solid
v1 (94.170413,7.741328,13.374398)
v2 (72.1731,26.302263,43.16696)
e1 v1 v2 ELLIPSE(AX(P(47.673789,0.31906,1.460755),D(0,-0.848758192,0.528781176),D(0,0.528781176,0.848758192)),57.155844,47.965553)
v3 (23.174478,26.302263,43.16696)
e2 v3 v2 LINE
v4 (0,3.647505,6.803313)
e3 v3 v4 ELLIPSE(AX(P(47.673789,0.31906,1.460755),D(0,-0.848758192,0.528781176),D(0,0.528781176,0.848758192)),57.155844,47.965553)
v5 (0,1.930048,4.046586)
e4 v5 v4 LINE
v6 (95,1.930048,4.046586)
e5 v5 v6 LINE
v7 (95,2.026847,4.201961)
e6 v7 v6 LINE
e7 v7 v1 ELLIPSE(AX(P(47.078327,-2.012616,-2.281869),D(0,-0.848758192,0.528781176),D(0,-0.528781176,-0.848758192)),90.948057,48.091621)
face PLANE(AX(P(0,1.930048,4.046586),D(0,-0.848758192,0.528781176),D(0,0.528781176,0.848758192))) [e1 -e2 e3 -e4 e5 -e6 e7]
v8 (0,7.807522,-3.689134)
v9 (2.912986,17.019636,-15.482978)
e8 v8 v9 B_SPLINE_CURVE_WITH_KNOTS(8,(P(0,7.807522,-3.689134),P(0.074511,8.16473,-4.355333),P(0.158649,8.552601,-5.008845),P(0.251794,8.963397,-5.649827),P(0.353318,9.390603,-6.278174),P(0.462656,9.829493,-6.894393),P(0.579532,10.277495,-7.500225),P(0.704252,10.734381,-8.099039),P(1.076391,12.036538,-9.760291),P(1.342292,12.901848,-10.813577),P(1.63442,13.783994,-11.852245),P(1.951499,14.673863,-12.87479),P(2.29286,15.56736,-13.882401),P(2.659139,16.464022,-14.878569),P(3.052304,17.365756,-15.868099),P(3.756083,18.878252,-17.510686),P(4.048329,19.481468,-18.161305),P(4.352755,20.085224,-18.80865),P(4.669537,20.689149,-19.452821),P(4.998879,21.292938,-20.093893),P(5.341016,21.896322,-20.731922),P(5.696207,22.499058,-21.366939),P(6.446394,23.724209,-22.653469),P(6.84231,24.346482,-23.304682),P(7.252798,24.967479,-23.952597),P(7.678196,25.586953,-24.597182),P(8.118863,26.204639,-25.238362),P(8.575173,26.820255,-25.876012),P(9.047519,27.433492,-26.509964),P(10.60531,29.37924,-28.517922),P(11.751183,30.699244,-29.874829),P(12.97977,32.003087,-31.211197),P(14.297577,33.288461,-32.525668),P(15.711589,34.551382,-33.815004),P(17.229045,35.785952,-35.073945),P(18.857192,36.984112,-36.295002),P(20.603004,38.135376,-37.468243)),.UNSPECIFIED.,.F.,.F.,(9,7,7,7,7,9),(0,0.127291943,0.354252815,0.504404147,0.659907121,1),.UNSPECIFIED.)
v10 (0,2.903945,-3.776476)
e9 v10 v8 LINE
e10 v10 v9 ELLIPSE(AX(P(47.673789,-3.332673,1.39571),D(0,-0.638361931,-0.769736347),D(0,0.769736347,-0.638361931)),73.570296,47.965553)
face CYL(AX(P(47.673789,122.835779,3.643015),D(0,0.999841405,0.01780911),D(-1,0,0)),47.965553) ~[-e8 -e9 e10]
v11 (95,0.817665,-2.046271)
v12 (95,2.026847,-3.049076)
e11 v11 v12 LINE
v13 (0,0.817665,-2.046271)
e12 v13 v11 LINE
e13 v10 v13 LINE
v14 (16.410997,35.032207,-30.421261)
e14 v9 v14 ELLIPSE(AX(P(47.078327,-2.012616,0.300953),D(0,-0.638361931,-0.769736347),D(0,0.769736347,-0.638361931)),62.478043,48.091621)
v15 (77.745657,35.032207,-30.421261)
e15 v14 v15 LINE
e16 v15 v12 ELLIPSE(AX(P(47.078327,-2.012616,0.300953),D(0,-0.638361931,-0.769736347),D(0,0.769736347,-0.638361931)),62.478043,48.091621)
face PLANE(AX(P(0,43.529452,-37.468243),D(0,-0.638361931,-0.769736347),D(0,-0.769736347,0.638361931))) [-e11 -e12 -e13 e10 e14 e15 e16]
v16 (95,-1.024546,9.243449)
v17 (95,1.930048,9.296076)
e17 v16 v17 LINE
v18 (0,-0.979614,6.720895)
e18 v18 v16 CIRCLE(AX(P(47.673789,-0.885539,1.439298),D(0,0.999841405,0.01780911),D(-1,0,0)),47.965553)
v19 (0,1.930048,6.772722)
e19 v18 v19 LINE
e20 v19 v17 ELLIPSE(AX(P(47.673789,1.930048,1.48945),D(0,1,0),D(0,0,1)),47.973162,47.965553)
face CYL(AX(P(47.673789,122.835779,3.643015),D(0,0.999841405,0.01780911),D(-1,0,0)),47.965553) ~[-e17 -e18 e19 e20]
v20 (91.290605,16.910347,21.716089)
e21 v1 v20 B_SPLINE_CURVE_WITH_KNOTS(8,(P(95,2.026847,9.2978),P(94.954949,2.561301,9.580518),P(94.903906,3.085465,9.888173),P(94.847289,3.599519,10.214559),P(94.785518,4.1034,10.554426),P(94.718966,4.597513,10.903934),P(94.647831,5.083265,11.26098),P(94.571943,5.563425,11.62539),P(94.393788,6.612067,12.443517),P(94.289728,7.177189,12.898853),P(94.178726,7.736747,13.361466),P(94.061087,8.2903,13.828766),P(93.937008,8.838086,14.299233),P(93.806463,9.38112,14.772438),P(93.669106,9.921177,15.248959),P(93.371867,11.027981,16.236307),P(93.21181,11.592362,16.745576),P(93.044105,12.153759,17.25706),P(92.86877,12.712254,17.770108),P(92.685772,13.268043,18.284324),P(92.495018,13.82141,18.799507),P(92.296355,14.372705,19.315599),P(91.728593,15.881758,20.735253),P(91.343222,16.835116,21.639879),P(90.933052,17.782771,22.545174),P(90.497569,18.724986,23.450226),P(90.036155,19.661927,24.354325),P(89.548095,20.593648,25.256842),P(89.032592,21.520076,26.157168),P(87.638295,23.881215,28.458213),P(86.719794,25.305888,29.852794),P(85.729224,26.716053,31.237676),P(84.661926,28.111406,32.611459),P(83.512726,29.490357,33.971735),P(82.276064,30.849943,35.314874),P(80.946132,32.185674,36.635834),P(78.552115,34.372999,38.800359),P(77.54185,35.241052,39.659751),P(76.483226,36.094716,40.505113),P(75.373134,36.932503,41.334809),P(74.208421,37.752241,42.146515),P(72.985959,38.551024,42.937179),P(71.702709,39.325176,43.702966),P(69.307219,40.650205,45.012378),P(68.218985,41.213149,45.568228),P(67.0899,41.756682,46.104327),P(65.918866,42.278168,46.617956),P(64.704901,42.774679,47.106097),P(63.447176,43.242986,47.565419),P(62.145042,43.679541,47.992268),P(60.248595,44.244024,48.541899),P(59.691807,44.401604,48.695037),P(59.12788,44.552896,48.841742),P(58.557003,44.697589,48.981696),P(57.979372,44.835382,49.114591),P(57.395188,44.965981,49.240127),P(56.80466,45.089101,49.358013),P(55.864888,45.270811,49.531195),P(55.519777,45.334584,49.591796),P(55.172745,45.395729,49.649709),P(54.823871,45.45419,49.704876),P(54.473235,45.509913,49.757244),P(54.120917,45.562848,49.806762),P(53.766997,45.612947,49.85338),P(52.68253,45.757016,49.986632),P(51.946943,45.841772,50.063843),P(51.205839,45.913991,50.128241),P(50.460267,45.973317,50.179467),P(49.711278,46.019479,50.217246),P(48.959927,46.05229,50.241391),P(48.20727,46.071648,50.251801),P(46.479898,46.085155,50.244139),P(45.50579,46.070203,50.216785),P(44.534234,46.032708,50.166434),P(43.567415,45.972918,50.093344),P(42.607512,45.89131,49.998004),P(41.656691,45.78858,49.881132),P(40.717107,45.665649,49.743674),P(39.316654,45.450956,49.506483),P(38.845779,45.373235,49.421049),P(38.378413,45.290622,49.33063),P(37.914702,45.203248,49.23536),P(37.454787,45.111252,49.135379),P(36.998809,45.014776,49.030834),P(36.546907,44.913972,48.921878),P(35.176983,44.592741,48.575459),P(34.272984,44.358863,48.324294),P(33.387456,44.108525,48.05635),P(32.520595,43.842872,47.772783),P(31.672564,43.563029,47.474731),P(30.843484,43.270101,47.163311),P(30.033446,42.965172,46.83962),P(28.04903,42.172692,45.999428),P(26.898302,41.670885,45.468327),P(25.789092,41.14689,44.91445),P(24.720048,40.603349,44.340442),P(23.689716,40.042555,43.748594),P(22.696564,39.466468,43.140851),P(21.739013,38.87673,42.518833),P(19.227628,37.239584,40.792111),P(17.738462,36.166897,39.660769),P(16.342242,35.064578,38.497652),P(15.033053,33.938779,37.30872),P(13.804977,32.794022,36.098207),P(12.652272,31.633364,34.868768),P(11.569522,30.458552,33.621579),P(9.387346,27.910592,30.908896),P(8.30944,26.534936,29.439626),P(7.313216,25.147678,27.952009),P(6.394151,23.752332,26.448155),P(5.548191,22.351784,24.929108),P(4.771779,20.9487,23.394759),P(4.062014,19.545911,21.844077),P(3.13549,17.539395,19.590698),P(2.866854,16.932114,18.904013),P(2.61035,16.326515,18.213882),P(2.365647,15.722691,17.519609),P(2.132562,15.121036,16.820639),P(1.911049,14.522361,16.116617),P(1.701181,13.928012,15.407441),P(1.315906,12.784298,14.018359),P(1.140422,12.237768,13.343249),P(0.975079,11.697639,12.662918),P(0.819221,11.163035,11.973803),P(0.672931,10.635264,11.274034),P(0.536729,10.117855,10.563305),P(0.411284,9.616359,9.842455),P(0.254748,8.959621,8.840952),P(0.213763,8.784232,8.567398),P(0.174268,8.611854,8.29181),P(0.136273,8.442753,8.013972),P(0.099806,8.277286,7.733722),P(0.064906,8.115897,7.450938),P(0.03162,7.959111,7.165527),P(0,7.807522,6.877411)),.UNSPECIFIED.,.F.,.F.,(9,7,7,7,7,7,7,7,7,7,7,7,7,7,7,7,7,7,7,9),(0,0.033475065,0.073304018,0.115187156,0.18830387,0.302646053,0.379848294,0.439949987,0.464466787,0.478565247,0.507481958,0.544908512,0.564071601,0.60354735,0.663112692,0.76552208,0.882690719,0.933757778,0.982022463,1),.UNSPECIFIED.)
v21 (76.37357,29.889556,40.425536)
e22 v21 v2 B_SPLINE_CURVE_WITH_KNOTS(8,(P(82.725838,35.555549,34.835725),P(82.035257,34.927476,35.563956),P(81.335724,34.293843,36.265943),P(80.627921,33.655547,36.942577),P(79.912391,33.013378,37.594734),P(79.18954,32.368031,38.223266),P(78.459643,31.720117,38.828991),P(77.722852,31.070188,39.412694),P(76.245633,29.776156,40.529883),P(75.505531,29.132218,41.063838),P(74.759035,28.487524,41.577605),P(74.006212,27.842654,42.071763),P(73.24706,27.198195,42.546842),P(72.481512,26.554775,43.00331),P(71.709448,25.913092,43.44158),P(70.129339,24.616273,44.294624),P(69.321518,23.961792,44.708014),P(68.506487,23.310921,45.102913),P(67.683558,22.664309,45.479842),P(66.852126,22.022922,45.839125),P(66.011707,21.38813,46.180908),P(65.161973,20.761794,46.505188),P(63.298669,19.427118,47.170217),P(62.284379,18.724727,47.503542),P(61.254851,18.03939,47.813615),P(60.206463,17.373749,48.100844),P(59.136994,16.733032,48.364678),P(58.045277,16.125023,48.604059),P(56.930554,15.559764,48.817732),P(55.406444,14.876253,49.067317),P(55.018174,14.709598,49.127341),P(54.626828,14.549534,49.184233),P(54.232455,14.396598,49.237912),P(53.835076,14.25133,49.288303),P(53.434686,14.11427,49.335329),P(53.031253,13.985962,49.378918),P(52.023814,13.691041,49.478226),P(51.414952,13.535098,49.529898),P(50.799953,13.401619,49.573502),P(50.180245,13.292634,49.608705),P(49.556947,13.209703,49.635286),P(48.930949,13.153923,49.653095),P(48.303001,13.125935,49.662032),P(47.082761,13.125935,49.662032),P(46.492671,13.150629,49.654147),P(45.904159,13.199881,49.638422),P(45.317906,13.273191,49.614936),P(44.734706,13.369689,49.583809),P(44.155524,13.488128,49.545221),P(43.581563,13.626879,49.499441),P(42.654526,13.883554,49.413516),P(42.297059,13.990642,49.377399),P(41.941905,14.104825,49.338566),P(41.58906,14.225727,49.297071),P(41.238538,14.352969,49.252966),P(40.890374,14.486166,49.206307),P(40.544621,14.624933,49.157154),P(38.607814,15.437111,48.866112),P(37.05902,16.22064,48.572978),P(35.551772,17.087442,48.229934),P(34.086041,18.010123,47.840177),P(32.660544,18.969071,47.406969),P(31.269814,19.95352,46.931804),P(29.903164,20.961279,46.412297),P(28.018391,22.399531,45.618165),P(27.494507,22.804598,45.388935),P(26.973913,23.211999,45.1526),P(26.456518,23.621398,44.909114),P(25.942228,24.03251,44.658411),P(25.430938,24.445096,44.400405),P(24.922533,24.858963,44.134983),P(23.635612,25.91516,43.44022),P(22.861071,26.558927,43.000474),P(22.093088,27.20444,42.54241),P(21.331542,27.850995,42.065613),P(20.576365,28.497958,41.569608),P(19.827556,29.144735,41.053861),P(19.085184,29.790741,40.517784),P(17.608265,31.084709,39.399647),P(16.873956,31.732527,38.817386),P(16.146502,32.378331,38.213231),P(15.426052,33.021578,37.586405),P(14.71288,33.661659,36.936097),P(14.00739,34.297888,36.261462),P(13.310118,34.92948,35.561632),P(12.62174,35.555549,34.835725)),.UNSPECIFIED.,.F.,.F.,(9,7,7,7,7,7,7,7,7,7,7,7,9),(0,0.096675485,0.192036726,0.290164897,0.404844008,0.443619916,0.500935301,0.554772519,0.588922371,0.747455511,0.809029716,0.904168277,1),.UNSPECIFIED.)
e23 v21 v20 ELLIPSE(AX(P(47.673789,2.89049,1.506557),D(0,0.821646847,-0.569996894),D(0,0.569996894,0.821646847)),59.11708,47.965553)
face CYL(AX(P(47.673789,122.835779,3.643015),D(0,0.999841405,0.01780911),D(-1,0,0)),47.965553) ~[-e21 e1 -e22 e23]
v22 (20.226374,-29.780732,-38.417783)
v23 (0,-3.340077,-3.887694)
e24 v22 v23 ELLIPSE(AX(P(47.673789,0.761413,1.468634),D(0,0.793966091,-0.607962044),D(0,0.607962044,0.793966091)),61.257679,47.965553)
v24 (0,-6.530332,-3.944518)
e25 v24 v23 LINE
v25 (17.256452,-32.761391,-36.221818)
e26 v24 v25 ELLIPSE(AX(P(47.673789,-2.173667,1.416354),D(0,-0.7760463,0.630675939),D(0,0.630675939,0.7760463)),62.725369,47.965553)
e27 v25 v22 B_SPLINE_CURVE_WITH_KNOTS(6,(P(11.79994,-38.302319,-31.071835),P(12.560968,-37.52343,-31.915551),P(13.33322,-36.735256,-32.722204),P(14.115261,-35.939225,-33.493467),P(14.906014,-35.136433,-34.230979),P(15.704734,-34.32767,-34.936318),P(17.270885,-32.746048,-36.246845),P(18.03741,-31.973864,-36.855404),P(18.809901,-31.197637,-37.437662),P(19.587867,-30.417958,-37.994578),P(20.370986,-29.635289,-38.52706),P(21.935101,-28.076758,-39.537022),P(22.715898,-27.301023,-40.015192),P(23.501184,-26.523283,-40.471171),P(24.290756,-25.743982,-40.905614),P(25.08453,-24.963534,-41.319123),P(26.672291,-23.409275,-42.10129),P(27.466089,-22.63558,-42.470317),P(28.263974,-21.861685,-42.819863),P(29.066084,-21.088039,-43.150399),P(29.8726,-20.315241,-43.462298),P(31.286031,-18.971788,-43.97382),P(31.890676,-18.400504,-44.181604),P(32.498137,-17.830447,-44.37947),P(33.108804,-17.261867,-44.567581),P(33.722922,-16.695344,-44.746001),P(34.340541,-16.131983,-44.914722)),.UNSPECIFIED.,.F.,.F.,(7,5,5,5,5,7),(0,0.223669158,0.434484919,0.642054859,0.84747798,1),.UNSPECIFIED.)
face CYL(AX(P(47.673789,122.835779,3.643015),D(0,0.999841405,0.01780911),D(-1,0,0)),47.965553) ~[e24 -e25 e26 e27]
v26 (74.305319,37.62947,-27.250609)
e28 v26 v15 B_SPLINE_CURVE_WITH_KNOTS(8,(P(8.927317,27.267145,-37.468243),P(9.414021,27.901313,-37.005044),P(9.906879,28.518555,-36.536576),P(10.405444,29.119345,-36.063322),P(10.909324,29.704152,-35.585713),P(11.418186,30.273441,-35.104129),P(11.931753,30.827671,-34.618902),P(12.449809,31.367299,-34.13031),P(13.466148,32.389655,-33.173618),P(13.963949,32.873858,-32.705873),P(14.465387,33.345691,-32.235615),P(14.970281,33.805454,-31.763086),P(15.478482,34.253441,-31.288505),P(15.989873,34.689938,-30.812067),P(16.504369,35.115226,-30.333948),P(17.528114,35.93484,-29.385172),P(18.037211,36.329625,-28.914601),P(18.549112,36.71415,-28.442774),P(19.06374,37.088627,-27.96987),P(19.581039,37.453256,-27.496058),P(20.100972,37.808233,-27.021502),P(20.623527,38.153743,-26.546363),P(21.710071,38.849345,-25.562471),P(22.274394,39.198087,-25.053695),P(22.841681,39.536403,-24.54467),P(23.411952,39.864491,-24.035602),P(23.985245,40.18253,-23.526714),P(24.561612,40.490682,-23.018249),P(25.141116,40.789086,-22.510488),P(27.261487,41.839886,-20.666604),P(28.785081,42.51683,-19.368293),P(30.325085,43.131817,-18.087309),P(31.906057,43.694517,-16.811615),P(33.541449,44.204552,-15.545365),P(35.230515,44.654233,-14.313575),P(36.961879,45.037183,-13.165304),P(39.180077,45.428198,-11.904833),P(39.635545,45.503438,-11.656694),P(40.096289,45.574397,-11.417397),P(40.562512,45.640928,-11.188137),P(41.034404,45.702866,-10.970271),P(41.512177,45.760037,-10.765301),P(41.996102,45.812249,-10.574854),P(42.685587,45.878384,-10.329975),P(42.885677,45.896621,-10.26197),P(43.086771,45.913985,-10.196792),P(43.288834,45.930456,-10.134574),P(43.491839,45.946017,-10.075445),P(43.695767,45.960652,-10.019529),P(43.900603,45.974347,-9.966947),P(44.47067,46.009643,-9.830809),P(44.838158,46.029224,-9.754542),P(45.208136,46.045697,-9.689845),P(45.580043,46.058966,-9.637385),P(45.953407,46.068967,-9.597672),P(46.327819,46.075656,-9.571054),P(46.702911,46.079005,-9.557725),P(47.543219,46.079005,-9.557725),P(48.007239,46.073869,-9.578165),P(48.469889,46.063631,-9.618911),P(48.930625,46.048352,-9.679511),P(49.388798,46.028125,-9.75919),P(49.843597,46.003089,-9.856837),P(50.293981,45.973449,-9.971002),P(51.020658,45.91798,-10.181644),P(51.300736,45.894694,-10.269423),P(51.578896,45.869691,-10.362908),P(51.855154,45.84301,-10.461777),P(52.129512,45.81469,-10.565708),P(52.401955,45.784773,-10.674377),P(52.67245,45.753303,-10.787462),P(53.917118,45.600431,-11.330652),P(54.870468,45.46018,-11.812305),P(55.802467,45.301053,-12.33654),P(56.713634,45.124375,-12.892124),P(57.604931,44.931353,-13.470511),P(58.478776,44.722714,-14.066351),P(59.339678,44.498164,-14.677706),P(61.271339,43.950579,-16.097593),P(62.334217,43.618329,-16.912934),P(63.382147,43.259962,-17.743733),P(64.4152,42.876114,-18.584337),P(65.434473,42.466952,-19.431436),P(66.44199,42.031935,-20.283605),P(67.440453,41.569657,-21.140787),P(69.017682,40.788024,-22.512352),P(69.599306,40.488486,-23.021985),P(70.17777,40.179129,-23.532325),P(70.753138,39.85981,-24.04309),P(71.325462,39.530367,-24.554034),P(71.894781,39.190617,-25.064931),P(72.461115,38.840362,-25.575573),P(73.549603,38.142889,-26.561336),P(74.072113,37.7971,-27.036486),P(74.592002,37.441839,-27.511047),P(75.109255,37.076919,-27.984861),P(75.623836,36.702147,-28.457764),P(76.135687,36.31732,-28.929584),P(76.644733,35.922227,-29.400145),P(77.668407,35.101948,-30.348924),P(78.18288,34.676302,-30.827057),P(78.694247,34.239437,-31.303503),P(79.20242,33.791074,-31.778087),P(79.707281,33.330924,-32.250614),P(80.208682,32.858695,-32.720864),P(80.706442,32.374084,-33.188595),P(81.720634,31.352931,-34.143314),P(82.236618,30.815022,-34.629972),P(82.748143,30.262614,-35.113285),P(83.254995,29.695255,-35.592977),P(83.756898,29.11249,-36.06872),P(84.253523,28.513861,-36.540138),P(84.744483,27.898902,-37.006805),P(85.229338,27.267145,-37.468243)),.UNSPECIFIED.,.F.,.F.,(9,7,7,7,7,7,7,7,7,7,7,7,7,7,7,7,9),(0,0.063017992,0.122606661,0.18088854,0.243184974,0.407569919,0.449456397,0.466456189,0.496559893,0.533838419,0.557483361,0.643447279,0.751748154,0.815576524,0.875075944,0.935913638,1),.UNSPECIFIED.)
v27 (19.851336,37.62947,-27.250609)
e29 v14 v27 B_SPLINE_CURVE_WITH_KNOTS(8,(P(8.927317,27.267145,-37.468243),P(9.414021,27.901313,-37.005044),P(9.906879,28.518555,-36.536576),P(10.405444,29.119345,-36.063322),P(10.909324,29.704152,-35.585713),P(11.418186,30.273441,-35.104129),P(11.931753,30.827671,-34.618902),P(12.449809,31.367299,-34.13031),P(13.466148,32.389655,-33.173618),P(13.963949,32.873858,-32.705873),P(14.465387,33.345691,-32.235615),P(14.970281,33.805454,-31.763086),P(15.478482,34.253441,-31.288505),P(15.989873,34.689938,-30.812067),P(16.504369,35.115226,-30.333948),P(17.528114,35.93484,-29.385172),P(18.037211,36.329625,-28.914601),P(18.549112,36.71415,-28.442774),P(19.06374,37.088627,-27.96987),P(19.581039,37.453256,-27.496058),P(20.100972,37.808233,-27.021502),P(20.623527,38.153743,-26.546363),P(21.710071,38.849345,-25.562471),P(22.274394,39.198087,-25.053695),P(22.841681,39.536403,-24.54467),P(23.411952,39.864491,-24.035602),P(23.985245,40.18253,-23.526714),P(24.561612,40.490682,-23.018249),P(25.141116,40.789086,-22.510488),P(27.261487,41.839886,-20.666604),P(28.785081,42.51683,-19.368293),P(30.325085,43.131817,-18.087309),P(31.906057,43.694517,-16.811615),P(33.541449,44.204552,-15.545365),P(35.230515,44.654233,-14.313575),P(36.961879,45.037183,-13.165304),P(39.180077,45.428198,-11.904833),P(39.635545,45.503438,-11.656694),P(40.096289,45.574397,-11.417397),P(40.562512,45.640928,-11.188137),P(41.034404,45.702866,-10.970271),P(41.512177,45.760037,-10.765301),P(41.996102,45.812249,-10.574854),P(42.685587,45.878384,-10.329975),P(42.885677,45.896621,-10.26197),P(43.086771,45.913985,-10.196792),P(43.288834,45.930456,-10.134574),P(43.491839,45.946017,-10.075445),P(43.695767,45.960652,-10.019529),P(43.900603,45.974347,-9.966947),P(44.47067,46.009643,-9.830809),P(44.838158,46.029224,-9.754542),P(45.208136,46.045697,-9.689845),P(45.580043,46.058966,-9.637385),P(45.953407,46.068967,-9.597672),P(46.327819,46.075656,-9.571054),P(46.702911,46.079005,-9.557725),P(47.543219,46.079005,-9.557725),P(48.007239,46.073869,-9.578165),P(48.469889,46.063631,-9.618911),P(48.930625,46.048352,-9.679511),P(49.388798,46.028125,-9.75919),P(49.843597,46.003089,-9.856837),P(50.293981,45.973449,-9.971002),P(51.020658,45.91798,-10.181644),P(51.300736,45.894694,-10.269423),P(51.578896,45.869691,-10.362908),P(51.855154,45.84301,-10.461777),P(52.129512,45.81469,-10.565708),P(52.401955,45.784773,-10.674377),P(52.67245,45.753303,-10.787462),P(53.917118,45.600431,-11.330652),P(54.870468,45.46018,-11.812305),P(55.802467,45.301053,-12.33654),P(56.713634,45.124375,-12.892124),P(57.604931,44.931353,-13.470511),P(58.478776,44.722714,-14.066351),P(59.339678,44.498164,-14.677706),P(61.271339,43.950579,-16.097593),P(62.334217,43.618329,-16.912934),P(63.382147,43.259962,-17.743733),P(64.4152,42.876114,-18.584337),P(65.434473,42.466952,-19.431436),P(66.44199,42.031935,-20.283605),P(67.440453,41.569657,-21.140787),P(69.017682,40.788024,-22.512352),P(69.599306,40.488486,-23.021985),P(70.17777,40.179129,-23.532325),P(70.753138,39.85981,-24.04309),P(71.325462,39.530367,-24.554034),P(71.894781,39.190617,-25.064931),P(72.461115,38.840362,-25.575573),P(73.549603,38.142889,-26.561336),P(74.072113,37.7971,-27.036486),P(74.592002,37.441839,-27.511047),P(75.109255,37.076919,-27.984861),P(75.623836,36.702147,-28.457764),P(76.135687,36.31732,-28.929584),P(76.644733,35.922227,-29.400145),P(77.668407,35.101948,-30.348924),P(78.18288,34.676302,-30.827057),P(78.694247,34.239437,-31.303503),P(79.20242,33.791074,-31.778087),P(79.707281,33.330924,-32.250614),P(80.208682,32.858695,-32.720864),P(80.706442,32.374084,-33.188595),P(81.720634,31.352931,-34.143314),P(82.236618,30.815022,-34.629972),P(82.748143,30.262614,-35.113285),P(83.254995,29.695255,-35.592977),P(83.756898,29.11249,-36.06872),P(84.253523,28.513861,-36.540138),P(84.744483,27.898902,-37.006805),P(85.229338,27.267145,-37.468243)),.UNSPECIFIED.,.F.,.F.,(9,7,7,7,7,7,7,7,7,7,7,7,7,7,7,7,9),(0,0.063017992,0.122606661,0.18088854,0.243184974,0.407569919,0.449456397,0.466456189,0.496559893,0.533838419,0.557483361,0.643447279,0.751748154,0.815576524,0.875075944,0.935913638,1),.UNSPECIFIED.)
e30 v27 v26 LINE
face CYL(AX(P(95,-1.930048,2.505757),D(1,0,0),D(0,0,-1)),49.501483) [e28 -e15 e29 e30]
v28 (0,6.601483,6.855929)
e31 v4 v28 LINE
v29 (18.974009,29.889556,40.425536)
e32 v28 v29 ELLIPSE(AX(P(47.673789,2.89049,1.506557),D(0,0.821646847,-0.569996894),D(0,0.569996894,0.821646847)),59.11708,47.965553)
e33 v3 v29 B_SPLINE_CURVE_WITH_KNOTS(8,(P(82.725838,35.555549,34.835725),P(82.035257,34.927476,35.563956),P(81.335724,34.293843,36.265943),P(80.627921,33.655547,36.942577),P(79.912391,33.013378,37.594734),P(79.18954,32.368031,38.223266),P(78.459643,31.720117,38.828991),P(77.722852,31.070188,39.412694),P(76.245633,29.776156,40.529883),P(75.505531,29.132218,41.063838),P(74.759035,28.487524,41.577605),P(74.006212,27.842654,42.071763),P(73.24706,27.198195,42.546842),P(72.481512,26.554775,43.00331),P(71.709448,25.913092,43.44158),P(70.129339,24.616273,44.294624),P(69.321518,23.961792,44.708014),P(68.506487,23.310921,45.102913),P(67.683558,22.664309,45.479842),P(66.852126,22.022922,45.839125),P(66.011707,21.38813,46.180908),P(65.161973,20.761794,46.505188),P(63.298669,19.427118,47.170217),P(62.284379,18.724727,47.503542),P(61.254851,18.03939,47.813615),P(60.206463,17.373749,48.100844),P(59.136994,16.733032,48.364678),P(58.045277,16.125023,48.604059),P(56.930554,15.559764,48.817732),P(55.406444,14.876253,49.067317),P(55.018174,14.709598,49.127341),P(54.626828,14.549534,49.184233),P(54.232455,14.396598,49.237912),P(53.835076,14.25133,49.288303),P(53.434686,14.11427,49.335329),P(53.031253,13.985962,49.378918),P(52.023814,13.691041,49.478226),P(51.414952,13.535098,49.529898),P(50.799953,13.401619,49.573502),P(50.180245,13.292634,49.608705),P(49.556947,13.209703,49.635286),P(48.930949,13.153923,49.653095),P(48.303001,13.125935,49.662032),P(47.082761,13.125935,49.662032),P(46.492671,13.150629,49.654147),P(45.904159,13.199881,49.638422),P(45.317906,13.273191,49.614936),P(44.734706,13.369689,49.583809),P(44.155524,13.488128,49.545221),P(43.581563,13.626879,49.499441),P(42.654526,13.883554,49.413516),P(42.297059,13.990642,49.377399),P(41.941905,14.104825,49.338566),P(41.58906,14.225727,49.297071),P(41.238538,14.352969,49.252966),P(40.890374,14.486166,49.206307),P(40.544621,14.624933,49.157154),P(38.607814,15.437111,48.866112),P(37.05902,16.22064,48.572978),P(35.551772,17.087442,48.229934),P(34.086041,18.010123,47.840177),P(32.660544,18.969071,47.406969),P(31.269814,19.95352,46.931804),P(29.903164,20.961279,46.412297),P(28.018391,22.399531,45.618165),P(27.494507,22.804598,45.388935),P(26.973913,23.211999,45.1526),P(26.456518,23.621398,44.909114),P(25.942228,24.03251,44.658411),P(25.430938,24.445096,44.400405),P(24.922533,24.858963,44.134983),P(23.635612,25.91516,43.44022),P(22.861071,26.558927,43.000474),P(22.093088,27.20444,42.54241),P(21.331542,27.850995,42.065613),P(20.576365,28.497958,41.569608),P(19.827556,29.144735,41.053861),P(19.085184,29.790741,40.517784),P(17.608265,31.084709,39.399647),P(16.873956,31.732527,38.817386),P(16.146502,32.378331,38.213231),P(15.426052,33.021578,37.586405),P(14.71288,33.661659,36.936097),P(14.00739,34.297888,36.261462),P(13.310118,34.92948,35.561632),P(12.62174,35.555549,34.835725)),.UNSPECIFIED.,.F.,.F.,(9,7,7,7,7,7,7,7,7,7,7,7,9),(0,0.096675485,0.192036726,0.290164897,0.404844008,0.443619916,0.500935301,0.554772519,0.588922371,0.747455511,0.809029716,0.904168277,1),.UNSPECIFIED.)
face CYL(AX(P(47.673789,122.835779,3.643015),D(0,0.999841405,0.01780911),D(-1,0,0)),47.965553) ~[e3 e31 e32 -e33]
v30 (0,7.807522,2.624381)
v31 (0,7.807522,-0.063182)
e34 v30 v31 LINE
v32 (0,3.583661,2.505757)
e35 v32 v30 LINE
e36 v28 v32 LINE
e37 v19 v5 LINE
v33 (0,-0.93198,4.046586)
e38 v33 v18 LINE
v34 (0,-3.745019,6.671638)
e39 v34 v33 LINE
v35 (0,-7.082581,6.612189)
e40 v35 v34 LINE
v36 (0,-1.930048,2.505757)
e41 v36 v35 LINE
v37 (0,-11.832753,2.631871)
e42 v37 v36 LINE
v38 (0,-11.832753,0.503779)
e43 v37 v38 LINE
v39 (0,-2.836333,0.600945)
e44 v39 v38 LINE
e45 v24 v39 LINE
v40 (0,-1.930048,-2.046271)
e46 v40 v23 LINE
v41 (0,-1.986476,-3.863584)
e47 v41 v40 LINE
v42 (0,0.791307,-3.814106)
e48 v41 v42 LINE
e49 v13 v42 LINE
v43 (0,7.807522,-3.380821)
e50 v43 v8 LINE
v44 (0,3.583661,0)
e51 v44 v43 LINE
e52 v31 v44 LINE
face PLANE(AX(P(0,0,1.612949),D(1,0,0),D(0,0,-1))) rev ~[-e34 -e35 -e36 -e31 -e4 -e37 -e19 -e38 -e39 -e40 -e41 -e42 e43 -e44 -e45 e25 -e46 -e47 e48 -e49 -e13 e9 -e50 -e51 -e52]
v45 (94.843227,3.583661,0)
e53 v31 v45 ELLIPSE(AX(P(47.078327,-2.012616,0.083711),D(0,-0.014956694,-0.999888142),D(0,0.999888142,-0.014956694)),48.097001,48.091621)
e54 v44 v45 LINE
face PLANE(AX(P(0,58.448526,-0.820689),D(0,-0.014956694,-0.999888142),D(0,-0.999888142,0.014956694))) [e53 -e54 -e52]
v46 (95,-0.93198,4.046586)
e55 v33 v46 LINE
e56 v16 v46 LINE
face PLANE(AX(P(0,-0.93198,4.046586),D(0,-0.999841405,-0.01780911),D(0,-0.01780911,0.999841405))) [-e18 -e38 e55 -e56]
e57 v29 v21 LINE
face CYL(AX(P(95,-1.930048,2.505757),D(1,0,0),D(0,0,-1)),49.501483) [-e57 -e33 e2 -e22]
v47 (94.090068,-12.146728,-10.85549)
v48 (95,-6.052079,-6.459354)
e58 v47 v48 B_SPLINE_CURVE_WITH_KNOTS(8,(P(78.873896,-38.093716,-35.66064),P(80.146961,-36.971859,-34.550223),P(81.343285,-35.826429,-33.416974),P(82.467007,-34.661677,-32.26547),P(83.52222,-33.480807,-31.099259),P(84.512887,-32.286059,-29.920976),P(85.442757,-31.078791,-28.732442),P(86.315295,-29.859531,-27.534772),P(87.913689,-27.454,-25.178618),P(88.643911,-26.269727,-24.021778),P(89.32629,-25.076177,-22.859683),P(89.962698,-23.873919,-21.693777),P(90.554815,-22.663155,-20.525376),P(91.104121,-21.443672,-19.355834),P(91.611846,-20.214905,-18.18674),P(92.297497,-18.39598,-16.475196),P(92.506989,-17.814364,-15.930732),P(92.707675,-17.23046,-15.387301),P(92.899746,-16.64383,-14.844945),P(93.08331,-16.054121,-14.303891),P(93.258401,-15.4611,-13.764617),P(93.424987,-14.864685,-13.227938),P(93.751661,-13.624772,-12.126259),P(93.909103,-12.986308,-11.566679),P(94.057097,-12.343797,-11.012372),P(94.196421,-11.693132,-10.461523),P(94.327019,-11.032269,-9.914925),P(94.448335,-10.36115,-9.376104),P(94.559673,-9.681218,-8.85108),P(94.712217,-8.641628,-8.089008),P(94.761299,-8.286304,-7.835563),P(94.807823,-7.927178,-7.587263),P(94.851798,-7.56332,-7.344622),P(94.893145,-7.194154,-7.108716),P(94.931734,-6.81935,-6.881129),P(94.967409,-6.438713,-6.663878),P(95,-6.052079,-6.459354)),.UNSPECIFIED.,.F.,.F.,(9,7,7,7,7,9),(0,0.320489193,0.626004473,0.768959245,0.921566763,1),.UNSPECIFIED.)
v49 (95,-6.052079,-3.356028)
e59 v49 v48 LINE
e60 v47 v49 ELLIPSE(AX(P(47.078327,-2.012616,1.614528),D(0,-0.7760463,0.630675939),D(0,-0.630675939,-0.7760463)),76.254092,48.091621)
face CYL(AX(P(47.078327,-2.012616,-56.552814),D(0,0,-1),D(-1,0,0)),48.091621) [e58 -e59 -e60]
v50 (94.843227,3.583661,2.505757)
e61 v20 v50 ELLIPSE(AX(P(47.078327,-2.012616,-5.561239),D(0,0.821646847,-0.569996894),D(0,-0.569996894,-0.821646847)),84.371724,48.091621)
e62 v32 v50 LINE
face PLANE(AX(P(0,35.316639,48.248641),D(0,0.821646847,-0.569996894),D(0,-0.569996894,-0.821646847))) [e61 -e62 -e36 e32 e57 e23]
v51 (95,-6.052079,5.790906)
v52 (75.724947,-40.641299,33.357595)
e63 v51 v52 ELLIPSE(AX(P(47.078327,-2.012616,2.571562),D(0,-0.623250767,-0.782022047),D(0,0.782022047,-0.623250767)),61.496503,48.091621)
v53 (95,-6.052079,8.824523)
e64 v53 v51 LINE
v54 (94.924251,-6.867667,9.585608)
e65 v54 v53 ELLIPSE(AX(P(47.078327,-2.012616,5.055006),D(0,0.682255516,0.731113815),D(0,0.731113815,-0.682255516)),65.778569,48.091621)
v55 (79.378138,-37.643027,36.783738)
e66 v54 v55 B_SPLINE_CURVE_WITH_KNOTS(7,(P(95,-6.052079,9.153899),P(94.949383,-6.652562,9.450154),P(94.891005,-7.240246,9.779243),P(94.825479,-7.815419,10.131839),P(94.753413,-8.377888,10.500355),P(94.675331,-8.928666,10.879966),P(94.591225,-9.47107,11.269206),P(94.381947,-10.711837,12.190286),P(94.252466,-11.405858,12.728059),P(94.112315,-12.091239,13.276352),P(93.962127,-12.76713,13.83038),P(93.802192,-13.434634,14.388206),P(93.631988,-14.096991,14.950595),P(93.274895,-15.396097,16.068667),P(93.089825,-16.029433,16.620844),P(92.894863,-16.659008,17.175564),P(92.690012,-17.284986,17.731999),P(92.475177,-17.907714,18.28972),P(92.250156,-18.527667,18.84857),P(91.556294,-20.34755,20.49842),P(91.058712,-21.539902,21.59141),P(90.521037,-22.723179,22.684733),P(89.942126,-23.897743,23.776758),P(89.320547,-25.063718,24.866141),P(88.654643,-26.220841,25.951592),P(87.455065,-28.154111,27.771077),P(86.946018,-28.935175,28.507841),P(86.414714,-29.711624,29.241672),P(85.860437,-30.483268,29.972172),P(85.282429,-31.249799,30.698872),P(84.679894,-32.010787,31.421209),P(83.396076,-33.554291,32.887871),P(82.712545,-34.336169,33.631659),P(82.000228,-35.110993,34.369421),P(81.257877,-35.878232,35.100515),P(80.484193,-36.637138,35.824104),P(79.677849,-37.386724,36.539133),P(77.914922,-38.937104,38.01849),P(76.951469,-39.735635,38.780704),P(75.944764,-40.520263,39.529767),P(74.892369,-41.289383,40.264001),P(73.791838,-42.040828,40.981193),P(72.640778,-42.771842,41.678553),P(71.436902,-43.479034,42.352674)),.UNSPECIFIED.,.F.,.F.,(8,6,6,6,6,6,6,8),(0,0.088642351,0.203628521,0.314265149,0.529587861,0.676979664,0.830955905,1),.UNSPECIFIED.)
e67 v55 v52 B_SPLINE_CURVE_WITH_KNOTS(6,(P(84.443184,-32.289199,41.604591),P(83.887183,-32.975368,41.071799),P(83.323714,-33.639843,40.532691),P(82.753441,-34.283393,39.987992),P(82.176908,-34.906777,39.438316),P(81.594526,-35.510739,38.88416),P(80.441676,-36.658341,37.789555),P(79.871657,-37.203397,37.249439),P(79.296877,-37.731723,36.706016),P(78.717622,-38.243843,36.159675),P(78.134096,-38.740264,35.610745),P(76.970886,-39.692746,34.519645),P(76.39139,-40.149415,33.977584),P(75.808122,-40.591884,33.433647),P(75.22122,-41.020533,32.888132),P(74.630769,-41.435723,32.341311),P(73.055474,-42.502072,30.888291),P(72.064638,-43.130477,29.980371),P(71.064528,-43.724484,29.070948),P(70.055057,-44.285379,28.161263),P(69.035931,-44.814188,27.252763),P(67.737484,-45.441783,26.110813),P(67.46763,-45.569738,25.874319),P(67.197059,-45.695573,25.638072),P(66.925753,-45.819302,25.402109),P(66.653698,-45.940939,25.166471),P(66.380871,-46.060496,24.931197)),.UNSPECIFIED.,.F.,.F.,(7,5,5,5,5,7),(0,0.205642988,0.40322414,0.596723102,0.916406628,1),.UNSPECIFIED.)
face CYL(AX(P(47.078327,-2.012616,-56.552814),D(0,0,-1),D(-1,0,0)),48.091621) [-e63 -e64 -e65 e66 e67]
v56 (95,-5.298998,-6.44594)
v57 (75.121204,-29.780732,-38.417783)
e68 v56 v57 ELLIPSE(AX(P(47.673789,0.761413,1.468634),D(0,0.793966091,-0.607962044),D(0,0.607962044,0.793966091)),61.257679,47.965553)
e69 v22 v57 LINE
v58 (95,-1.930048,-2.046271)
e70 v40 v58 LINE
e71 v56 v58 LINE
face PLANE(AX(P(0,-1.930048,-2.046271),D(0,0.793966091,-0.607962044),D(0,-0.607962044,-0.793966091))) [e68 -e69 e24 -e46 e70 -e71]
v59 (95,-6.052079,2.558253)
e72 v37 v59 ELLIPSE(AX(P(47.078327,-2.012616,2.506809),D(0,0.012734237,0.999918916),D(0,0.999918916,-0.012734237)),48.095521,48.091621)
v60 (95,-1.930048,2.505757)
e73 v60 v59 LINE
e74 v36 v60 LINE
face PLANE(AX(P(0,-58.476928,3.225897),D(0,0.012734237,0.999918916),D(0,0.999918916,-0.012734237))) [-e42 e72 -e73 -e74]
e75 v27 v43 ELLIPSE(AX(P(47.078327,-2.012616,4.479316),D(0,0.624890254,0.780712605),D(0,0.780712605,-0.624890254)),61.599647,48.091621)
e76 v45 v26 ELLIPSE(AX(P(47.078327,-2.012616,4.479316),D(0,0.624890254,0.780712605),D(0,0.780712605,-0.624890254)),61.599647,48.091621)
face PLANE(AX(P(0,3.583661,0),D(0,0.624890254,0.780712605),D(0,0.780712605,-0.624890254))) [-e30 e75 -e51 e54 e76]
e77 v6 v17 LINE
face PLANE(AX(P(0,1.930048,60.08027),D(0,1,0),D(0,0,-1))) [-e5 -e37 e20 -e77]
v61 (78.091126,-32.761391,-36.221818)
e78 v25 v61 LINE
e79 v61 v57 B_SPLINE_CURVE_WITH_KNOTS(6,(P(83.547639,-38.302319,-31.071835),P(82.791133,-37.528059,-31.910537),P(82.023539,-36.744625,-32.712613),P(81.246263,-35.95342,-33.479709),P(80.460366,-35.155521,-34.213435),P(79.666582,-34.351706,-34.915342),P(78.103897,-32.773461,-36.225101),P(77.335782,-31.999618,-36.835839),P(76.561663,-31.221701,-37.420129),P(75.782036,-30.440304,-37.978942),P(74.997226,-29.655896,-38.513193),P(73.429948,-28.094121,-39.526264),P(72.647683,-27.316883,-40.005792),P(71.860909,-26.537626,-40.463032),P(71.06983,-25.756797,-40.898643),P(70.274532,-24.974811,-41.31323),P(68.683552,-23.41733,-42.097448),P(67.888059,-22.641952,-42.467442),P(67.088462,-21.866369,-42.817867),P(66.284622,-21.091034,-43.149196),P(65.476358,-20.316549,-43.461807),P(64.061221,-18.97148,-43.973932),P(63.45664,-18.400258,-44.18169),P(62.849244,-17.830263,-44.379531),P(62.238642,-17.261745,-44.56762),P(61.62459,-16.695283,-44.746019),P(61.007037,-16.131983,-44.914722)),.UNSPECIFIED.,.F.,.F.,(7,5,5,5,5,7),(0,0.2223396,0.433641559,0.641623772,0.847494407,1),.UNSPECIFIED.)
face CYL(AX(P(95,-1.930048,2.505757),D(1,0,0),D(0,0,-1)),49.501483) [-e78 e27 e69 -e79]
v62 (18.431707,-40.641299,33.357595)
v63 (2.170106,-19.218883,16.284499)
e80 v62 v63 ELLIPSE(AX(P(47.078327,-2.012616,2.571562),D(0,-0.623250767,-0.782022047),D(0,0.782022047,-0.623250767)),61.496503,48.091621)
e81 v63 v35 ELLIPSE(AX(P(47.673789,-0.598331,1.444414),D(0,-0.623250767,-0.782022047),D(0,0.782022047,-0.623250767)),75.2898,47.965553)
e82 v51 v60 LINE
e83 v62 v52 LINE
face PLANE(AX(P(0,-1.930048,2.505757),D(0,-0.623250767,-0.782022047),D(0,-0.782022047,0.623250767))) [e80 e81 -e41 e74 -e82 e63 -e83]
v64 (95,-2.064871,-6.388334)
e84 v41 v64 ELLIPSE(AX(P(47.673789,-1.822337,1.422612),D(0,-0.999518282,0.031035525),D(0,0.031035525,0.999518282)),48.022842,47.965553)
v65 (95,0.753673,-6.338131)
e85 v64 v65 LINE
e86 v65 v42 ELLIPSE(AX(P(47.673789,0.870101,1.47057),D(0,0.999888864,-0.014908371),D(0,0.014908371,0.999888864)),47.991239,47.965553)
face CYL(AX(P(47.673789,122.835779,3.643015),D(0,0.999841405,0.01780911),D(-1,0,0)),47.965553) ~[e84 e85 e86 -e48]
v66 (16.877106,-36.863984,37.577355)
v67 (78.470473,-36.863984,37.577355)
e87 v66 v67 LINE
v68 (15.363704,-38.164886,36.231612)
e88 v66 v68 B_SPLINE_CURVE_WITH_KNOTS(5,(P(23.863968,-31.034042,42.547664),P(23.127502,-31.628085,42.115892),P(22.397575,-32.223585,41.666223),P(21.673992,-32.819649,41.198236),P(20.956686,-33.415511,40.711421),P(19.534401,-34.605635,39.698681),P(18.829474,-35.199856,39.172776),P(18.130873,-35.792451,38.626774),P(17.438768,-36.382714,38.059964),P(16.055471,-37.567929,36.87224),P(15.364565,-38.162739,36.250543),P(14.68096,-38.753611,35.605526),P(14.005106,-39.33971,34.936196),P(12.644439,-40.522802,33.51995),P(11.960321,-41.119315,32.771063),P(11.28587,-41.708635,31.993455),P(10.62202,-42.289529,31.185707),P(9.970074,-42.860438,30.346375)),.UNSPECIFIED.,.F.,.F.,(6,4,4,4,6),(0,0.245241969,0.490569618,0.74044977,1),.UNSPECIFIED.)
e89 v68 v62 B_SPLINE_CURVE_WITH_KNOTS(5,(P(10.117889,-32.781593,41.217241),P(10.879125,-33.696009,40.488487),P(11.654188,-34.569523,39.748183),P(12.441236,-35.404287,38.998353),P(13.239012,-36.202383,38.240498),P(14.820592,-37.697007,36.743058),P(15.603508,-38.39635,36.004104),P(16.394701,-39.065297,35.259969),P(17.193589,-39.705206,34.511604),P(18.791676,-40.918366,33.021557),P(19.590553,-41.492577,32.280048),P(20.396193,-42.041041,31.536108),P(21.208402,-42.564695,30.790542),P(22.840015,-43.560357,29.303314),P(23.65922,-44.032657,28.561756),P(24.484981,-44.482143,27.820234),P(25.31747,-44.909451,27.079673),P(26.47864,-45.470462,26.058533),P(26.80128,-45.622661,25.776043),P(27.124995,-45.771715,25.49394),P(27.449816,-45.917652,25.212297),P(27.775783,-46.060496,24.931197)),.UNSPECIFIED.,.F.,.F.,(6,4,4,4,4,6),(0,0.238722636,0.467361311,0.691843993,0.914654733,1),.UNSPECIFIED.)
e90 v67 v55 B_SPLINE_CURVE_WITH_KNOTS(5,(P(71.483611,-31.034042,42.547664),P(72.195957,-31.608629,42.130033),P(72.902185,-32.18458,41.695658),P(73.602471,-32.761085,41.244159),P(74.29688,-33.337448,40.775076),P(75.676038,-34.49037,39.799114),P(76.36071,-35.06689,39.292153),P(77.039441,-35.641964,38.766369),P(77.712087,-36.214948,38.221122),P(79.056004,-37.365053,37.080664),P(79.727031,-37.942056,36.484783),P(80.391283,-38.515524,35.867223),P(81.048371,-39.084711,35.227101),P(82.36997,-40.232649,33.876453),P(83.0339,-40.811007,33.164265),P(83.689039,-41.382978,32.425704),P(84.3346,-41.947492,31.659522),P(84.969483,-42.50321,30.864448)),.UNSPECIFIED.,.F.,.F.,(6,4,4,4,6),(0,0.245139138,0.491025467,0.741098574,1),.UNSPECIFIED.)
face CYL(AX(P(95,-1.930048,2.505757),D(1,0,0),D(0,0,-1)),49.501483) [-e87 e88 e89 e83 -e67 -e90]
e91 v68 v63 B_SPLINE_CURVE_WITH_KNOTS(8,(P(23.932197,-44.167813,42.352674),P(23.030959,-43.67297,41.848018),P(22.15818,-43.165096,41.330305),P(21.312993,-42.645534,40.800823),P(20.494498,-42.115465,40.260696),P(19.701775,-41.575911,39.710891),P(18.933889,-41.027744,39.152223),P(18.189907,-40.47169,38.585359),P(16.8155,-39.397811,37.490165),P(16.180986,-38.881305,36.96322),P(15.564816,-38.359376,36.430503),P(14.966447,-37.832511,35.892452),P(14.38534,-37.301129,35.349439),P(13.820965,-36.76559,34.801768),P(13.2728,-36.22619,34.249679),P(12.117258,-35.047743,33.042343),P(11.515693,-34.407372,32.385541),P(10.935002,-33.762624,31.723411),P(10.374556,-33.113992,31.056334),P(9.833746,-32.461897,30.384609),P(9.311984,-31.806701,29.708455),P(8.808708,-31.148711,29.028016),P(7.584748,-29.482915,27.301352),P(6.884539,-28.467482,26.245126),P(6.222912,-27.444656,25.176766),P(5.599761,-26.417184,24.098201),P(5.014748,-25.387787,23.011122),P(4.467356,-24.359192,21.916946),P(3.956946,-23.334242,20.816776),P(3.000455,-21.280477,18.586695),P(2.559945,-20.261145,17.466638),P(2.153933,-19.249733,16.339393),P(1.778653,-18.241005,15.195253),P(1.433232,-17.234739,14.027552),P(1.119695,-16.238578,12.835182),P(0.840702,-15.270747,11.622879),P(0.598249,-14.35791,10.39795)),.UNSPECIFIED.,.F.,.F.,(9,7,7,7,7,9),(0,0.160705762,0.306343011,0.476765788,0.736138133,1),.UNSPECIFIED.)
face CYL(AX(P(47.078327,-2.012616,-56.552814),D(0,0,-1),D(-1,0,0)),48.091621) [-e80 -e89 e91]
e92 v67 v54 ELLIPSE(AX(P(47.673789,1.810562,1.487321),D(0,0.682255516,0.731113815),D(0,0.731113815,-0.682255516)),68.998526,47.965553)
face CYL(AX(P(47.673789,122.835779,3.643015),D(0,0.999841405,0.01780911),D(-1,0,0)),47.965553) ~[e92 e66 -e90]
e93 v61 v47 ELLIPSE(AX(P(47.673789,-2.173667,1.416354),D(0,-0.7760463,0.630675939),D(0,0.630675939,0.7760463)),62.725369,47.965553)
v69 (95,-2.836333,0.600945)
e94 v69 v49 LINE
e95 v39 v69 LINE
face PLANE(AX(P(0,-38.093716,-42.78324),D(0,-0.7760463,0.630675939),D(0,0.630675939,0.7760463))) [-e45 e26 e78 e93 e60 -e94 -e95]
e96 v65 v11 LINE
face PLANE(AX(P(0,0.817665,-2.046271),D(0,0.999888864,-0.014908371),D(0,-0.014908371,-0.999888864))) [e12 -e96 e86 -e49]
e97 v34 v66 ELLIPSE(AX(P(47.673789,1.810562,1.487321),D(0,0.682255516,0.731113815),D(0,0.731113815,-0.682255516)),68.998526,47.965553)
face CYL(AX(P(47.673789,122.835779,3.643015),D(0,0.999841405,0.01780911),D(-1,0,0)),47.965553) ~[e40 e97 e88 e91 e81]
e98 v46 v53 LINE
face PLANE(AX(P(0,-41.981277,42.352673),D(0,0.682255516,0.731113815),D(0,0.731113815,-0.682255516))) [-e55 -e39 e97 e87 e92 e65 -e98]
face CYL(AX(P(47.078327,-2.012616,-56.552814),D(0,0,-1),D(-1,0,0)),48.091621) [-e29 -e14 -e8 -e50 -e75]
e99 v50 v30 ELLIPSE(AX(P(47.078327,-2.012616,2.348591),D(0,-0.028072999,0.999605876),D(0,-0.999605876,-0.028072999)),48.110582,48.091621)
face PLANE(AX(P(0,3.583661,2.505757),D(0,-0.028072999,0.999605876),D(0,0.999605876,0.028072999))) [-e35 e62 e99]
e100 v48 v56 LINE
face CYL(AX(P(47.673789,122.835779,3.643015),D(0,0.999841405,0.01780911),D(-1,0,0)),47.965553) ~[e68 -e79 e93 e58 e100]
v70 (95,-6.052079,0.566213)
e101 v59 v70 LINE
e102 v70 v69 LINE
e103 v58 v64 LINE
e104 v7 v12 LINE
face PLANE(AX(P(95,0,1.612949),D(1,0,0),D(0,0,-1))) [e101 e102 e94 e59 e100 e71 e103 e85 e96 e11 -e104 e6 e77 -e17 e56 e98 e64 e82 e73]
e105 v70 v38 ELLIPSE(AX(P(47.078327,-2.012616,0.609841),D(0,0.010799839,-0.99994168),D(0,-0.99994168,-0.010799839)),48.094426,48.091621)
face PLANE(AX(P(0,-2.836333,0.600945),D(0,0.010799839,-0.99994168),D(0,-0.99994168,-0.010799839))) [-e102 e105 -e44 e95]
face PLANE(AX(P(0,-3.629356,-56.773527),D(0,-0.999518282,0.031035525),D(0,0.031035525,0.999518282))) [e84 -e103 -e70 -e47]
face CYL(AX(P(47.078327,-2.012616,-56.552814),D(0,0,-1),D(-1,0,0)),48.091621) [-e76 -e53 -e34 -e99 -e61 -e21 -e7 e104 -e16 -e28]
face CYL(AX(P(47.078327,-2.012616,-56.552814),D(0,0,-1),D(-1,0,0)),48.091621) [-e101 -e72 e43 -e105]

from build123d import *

# Parameters (mm, degrees)
SKETCH1_R               = 58.499168585
BOSS_EXTRUDE1_DEPTH     = 95
CUT_EXTRUDE3_DEPTH      = 100
SKETCH4_W               = 9.373072574
SKETCH4_H               = 2.086863183
SKETCH4_W_2             = 2.476243421
SKETCH4_H_2             = 12.533404649
CUT_EXTRUDE4_DEPTH      = 127.730498931
SKETCH5_R               = 85.185879132
SKETCH5_R_2             = 48.091620782
CUT_EXTRUDE6_DEPTH      = 162.424468201
CUT_EXTRUDE9_DEPTH      = 123.740942834
CUT_EXTRUDE9_DEPTH_BACK = 123.740942834
SKETCH6_R               = 79.179320002
SKETCH6_R_2             = 47.965553318
SKETCH7_R               = 65.670207134
SKETCH7_R_2             = 49.501482781
CUT_EXTRUDE11_DEPTH     = 100


with BuildPart() as part:
    # Sketch1 → Boss-Extrude1 (new body)
    with BuildSketch(Plane(origin=(0, 0, 0), x_dir=(0, 0, -1), z_dir=(1, 0, 0))):
        with Locations((-1.612948614, 0)):
            Circle(SKETCH1_R)
    extrude(amount=BOSS_EXTRUDE1_DEPTH)

    # Sketch2 → Cut-Extrude3 (cut)
    with BuildSketch(Plane.ZY):
        Polygon((-34.616587509, 50.080454684), (-34.616587509, 62.895572105), (-0.820688819, 58.448525507), (0, 3.58366071), (-34.293670433, 46.428785299), align=None)
        with BuildLine():
            Line((-37.468242519, 43.529452383), (-2.046271026, 0.817665198))
            Line((-2.046271026, 0.817665198), (-56.886219972, 0))
            add(Edge.make_bspline(
                [(-37.468242519, 43.529452383), (-81.726208007, 46.47230528), (-56.886219972, 0)],
                knots=[0, 0, 0, 1, 1, 1], degree=2))
        make_face()
        with BuildLine():
            Line((-56.773526724, -3.629355702), (-2.046271026, -1.930047978))
            Line((-2.046271026, -1.930047978), (-45.251031563, -35.013141635))
            add(Edge.make_bspline(
                [(-56.773526724, -3.629355702), (-82.637840847, -33.762491691), (-45.251031563, -35.013141635)],
                knots=[0, 0, 0, 1, 1, 1], degree=2))
        make_face()
        with BuildLine():
            Line((-42.78323994, -38.093715585), (0.600944507, -2.836333045))
            Line((0.600944507, -2.836333045), (0, -58.476928116))
            add(Edge.make_bspline(
                [(-42.78323994, -38.093715585), (-42.157907188, -81.245363376), (0, -58.476928116)],
                knots=[0, 0, 0, 1, 1, 1], degree=2))
        make_face()
        with BuildLine():
            Line((3.225897227, -58.476928116), (2.505757473, -1.930047978))
            Line((2.505757473, -1.930047978), (37.676550811, -46.060496325))
            add(Edge.make_bspline(
                [(37.676550811, -46.060496325), (44.967631713, -79.6133954), (3.225897227, -58.476928116)],
                knots=[0, 0, 0, 1, 1, 1], degree=2))
        make_face()
        with BuildLine():
            Line((42.352672899, -41.981276663), (4.046586047, -0.931979638))
            Line((4.046586047, -0.931979638), (60.080269742, -1.930047978))
            add(Edge.make_bspline(
                [(60.080269742, -1.930047978), (94.049932739, -36.726987631), (42.352672899, -41.981276663)],
                knots=[0, 0, 0, 1, 1, 1], degree=2))
        make_face()
        with BuildLine():
            Line((60.080269742, 1.930047978), (4.046586047, 1.930047978))
            Line((4.046586047, 1.930047978), (51.077950448, 31.230855234))
            add(Edge.make_bspline(
                [(51.077950448, 31.230855234), (102.146773926, 32.028777375), (60.080269742, 1.930047978)],
                knots=[0, 0, 0, 1, 1, 1], degree=2))
        make_face()
        with BuildLine():
            Line((48.248640535, 35.316638631), (2.505757473, 3.58366071))
            Line((2.505757473, 3.58366071), (4.046586047, 58.448525507))
            add(Edge.make_bspline(
                [(4.046586047, 58.448525507), (39.246107014, 77.741383534), (48.248640535, 35.316638631)],
                knots=[0, 0, 0, 1, 1, 1], degree=2))
        make_face()
    extrude(amount=-CUT_EXTRUDE3_DEPTH, mode=Mode.SUBTRACT)

    # Sketch4 → Cut-Extrude4 (cut, through all)
    with BuildSketch(Plane.ZY):
        with Locations((2.834262756, 59.310645652)):
            Rectangle(SKETCH4_W, SKETCH4_H)
        with Locations((-57.79093587, -1.746234162)):
            Rectangle(SKETCH4_W_2, SKETCH4_H_2)
    extrude(amount=-CUT_EXTRUDE4_DEPTH, mode=Mode.SUBTRACT)

    # Sketch5 → Cut-Extrude6 (cut, through all)
    with BuildSketch(Plane(origin=(0, 0, -56.552814159), x_dir=(-1, 0, 0), z_dir=(0, 0, -1))):
        with Locations((-47.078327147, -2.012615685)):
            Circle(SKETCH5_R)
        with Locations((-47.078327147, -2.012615685)):
            Circle(SKETCH5_R_2, mode=Mode.SUBTRACT)
    extrude(amount=-CUT_EXTRUDE6_DEPTH, mode=Mode.SUBTRACT)

    # Sketch6 → Cut-Extrude9 (cut, two sides: drawn at the far end of the back side and taken through both)
    with BuildSketch(Plane(origin=(0, -0.859629379, -0.015311663), x_dir=(-1, 0, 0), z_dir=(0, -0.9998414052195305, -0.017809110270727707)).offset(-CUT_EXTRUDE9_DEPTH_BACK)):
        with Locations((-47.673789364, -1.454840891)):
            Circle(SKETCH6_R)
        with Locations((-47.673789364, -1.454840891)):
            Circle(SKETCH6_R_2, mode=Mode.SUBTRACT)
    extrude(amount=CUT_EXTRUDE9_DEPTH + CUT_EXTRUDE9_DEPTH_BACK, mode=Mode.SUBTRACT)

    # Sketch7 → Cut-Extrude11 (cut)
    with BuildSketch(Plane(origin=(95, 0, 0), x_dir=(0, 0, -1), z_dir=(1, 0, 0))):
        with Locations((-2.505757473, -1.930047978)):
            Circle(SKETCH7_R)
        with Locations((-2.505757473, -1.930047978)):
            Circle(SKETCH7_R_2, mode=Mode.SUBTRACT)
    extrude(amount=-CUT_EXTRUDE11_DEPTH, mode=Mode.SUBTRACT)


solid = part.part
